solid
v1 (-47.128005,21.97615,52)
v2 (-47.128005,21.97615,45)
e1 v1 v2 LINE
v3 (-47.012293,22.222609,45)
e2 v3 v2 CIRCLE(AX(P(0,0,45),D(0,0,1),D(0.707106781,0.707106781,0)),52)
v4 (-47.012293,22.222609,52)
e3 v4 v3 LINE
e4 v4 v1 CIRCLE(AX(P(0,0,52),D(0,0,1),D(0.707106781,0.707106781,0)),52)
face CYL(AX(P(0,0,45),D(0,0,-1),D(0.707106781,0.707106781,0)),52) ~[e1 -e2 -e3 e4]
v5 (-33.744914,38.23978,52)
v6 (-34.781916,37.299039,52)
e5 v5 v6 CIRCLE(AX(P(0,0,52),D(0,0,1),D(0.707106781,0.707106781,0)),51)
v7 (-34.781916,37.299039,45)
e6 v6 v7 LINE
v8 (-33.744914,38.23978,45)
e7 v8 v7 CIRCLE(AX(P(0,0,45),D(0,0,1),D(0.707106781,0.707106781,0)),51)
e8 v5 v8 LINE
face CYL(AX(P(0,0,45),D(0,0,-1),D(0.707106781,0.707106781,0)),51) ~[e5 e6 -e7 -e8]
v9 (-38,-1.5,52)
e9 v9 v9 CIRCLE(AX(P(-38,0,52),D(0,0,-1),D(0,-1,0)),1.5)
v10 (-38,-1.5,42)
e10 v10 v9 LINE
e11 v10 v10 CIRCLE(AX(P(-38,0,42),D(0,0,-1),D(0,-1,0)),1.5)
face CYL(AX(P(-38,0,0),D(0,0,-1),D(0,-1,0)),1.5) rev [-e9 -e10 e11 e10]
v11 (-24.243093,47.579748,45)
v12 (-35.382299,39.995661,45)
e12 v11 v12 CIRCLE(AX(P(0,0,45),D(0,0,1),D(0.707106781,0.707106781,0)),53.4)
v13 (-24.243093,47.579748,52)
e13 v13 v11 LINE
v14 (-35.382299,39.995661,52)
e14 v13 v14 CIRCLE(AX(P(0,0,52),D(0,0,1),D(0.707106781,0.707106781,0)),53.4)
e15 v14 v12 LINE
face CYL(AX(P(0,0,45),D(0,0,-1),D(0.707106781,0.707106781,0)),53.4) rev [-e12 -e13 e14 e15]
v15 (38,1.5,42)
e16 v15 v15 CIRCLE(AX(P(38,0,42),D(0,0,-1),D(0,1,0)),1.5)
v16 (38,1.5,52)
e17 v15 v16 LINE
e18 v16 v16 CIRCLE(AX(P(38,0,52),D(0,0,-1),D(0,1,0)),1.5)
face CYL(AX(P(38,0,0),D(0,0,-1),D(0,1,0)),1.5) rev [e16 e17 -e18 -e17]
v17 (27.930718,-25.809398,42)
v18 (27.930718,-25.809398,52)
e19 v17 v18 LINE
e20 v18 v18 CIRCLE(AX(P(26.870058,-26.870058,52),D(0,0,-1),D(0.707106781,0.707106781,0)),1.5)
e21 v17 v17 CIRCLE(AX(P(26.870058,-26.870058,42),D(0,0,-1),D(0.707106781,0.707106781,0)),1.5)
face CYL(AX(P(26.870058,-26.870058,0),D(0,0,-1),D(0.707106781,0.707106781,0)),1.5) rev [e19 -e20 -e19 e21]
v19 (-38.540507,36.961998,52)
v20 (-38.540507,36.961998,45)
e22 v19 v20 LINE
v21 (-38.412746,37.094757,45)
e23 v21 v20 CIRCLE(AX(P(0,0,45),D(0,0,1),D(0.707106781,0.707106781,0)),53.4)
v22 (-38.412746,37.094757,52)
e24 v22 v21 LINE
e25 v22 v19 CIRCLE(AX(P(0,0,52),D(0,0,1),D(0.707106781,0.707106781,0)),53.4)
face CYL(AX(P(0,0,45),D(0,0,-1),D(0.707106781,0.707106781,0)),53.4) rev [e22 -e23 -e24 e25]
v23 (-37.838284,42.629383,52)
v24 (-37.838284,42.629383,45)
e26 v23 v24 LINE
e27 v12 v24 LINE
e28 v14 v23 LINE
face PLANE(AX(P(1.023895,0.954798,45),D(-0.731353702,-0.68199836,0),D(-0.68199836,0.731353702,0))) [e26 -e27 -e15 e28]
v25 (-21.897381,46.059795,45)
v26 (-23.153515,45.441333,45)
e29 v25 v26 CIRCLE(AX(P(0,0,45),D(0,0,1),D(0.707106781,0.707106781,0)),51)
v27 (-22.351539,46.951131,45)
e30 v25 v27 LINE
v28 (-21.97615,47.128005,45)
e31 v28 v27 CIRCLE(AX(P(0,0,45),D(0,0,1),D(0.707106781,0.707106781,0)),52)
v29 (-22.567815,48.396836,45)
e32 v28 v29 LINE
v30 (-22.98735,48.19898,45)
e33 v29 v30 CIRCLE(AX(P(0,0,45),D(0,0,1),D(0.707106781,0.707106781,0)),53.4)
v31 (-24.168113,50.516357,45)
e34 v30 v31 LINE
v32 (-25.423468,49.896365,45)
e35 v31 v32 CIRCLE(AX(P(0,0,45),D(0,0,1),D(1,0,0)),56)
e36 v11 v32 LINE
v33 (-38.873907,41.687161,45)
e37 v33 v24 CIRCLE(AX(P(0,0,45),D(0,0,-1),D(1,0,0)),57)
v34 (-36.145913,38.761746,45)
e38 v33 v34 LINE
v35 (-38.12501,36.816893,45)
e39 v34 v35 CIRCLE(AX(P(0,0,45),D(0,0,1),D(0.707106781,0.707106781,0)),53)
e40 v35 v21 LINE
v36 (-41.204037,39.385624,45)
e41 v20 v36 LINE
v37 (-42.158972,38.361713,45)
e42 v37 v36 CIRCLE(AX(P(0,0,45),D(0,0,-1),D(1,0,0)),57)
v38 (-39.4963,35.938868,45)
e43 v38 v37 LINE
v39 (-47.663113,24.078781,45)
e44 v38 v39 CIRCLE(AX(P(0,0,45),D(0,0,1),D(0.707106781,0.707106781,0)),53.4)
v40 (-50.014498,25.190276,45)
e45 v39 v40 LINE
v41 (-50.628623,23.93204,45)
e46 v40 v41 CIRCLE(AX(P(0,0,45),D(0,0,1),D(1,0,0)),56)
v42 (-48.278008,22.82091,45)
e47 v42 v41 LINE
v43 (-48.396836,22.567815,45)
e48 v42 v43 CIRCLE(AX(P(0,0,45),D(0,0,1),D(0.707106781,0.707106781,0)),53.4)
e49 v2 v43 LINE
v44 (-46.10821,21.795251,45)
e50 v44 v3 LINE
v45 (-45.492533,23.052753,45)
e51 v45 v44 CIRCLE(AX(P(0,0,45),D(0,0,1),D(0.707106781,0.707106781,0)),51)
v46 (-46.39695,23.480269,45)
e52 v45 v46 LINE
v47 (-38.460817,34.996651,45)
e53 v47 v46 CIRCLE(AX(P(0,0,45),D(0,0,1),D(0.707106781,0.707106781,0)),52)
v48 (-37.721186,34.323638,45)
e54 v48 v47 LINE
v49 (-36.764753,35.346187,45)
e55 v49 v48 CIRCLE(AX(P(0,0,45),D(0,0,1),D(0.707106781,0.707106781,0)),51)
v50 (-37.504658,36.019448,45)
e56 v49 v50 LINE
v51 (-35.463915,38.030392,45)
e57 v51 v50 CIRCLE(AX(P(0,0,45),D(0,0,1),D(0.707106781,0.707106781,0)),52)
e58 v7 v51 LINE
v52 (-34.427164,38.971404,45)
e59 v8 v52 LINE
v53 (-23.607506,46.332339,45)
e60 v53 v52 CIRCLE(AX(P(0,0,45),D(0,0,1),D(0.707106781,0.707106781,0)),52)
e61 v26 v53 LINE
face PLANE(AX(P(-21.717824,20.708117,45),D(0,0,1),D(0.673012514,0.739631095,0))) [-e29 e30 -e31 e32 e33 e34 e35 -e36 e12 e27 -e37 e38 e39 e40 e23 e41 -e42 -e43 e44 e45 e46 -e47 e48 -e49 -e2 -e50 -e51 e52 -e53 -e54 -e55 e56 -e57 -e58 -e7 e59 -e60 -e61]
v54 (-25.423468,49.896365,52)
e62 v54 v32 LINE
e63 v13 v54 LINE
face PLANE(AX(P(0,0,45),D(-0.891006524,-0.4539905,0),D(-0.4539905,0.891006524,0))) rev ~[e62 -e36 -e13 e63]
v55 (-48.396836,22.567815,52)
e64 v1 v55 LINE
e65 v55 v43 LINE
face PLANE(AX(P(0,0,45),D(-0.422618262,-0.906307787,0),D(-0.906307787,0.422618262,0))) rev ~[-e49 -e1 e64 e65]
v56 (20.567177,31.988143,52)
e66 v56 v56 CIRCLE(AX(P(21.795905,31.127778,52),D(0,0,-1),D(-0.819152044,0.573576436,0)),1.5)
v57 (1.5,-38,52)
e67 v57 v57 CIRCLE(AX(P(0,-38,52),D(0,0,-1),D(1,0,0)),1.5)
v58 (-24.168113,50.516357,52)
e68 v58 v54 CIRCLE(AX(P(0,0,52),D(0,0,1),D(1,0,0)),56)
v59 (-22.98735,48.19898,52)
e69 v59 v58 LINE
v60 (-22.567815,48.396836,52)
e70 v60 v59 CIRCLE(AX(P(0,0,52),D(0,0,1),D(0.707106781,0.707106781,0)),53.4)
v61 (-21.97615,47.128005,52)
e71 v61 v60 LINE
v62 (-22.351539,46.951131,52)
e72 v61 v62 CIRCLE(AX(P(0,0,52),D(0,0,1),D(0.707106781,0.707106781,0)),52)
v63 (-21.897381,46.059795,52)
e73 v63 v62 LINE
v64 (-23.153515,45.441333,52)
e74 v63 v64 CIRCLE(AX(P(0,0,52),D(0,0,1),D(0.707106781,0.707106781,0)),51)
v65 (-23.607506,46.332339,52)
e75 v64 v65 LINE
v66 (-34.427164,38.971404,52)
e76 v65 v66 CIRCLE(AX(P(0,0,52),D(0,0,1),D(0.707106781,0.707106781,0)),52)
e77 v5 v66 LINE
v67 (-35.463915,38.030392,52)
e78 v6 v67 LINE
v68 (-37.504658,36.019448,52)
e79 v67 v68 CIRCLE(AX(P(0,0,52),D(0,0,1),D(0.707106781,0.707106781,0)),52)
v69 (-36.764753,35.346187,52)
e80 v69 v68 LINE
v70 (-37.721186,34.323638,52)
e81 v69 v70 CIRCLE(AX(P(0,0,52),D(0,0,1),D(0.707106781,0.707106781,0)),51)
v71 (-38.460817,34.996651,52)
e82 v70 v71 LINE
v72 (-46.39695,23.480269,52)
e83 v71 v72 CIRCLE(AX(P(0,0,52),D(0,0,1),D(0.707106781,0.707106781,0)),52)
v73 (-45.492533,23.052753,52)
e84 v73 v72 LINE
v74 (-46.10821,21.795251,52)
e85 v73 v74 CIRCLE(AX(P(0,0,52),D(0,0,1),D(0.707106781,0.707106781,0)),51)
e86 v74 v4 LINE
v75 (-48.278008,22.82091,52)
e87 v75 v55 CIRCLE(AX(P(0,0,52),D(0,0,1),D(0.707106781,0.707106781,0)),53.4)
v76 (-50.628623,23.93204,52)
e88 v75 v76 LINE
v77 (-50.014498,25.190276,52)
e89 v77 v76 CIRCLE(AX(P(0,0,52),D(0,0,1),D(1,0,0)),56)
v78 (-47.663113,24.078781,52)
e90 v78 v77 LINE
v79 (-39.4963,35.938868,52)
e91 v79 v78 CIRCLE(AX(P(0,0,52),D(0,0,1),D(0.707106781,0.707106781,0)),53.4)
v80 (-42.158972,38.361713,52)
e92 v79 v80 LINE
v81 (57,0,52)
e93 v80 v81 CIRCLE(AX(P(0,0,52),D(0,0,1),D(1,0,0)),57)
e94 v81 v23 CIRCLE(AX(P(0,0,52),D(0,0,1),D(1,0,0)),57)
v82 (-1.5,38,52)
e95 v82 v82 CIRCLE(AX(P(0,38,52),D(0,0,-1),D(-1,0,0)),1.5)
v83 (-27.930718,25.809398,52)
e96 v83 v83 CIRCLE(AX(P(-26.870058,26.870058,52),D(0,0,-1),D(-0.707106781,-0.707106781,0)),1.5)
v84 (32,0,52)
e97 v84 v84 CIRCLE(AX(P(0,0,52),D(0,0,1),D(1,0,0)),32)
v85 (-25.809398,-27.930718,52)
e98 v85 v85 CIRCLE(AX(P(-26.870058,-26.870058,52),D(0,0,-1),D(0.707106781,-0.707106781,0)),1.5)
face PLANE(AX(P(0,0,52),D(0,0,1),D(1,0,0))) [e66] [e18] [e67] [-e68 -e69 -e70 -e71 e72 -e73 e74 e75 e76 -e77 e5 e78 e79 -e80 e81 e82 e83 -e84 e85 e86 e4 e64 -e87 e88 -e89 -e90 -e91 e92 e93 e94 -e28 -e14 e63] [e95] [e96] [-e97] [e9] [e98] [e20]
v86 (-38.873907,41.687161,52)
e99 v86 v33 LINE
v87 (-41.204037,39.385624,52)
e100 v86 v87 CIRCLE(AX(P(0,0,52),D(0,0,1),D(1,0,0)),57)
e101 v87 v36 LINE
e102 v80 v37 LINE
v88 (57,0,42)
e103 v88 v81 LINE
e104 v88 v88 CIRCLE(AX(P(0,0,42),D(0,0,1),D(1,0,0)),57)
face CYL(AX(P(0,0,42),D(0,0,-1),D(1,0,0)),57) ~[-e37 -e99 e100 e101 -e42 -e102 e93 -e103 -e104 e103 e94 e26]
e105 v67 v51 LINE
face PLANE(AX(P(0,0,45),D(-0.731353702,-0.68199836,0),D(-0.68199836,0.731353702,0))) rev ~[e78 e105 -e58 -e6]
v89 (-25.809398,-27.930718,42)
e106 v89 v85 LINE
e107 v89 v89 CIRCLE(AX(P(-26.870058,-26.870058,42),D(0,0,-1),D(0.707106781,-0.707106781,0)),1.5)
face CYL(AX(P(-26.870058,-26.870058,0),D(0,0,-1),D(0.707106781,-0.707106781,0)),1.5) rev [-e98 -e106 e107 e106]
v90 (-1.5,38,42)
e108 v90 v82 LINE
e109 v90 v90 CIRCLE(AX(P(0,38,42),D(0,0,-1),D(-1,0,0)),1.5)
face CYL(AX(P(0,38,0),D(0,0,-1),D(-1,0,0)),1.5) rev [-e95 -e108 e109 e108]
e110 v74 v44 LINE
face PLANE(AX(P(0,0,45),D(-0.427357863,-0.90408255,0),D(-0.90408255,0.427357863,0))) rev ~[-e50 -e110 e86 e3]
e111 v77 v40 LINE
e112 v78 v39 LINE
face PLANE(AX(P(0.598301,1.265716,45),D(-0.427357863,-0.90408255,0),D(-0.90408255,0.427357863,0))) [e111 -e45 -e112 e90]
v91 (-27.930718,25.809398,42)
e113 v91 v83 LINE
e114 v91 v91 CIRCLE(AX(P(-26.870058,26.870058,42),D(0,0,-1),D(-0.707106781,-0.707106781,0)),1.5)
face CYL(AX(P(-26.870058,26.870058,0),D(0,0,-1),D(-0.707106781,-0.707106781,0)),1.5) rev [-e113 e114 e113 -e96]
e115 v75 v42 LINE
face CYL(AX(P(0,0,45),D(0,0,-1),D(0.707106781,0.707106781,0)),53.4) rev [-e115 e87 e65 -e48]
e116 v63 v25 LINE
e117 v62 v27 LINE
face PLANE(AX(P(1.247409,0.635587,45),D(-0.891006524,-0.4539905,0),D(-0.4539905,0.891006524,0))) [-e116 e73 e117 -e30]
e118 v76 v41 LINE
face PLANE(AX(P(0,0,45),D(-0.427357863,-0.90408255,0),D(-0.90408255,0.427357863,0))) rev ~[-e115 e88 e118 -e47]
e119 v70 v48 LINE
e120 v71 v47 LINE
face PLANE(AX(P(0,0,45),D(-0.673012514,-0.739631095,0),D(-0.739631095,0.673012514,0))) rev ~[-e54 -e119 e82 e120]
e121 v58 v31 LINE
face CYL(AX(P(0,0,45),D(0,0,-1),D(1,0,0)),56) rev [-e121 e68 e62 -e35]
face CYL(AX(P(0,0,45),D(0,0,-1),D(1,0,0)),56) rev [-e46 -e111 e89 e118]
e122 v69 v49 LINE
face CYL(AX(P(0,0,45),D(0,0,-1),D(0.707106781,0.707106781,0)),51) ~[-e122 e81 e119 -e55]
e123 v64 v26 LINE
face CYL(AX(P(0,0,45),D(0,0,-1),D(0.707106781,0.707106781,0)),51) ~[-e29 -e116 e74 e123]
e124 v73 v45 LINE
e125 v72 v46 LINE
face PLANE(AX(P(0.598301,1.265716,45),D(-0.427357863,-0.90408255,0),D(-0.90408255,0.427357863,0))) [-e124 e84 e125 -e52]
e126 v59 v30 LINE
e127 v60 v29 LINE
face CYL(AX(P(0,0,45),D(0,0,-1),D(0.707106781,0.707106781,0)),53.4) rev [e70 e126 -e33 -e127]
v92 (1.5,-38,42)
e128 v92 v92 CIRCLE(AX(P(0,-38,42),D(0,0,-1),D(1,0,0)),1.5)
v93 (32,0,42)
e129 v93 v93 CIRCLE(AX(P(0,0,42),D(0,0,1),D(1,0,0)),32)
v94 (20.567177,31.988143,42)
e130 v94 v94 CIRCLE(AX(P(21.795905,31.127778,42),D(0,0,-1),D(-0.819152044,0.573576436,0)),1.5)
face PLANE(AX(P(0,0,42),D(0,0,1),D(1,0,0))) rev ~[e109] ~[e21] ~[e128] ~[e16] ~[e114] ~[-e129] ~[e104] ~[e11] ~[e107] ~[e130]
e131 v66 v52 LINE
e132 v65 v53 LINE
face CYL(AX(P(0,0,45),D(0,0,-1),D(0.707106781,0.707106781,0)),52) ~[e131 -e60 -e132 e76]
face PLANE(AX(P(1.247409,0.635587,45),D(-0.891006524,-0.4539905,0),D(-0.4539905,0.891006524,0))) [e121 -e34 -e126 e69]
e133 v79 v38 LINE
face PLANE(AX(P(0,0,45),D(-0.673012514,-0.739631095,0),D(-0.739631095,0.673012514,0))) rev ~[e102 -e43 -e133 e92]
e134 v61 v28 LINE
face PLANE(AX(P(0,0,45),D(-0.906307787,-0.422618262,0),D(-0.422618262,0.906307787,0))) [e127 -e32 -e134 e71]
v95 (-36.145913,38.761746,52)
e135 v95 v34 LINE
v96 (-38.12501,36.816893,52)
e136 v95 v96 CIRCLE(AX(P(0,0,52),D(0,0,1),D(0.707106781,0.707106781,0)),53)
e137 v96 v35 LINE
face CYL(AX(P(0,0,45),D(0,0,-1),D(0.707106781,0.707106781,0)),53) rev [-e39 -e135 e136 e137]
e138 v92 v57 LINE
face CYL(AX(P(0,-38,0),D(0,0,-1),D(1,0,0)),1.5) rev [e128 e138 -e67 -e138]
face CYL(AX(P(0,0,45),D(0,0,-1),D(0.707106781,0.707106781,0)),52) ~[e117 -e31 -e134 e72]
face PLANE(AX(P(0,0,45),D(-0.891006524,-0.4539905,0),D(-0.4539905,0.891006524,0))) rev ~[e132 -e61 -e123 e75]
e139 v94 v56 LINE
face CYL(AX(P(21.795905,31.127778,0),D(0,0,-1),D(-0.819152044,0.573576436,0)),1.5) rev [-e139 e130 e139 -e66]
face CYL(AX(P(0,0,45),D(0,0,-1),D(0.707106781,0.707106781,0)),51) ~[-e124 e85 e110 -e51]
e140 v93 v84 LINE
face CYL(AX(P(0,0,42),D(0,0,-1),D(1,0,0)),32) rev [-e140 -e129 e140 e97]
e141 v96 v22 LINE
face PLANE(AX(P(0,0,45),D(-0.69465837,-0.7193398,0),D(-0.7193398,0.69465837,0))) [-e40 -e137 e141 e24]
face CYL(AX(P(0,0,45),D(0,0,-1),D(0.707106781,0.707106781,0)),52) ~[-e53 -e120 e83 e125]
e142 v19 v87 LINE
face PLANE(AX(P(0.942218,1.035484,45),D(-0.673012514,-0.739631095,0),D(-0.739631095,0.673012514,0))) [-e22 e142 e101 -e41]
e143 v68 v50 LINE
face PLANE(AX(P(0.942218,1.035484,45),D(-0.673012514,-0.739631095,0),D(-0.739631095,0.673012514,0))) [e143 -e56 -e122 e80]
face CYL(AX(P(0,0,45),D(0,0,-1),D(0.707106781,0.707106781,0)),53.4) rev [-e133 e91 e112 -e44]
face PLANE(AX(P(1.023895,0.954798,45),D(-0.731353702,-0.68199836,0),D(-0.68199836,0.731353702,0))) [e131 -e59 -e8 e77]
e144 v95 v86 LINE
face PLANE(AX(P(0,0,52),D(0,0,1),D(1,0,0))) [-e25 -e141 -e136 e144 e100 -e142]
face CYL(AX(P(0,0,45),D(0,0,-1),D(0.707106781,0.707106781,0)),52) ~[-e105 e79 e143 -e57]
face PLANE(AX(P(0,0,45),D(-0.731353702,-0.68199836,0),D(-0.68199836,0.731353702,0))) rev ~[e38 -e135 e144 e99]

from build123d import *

# Parameters (mm, degrees)
CYLINDER2172_R               = 56
CYLINDER2172_DEPTH           = 7
CYLINDER2171_R               = 51
CYLINDER2171_DEPTH           = 7
BOX1045_W                    = 1.4
BOX1045_H                    = 60
BOX1045_DEPTH                = 7
BOX1045_PLACEMENT_ANGLE      = 19.7
BOX1044_W                    = 1.4
BOX1044_H                    = 60
BOX1044_DEPTH                = 7
BOX1044_PLACEMENT_ANGLE      = 18
CUT727_PLACEMENT_ANGLE       = 45
BOX1038_W                    = 60
BOX1038_H                    = 60
BOX1038_DEPTH                = 7
BOX1038_PLACEMENT_ANGLE      = 1
BOX1036_W                    = 60
BOX1036_H                    = 60
BOX1036_DEPTH                = 7
BOX1036_PLACEMENT_ANGLE      = 2
BOX1043_W                    = 120
BOX1043_H                    = 60
BOX1043_DEPTH                = 7
TUBE090_R                    = 54.4
TUBE090_R_2                  = 53
TUBE090_DEPTH                = 7
BOX1041_W                    = 60
BOX1041_H                    = 60
BOX1041_DEPTH                = 7
BOX1041_PLACEMENT_ANGLE      = 20
BOX1039_W                    = 60
BOX1039_H                    = 60
BOX1039_DEPTH                = 7
BOX1039_PLACEMENT_ANGLE      = 20
BOX1037_W                    = 120
BOX1037_H                    = 60
BOX1037_DEPTH                = 7
TUBE091_R                    = 53.4
TUBE091_R_2                  = 52
TUBE091_DEPTH                = 7
CUT721_PLACEMENT_ANGLE       = 45
CYLINDER2170_R               = 51
CYLINDER2170_DEPTH           = 7
BOX1042_W                    = 1.4
BOX1042_H                    = 60
BOX1042_DEPTH                = 7
BOX1042_PLACEMENT_ANGLE      = 2.7
BOX1040_W                    = 1.4
BOX1040_H                    = 60
BOX1040_DEPTH                = 7
BOX1040_PLACEMENT_ANGLE      = 2
CUT722_PLACEMENT_ANGLE       = 45
CYLINDER2129_R               = 1.5
CYLINDER2129_DEPTH           = 100
CYLINDER2130_R               = 1.5
CYLINDER2130_DEPTH           = 100
CYLINDER2130_PLACEMENT_ANGLE = 145
CYLINDER2131_R               = 1.5
CYLINDER2131_DEPTH           = 100
CYLINDER2132_R               = 1.5
CYLINDER2132_DEPTH           = 100
CYLINDER2132_PLACEMENT_ANGLE = 225
CYLINDER2133_R               = 1.5
CYLINDER2133_DEPTH           = 100
CYLINDER2134_R               = 1.5
CYLINDER2134_DEPTH           = 100
CYLINDER2134_PLACEMENT_ANGLE = 45
CYLINDER2127_R               = 1.5
CYLINDER2127_DEPTH           = 100
CYLINDER2128_R               = 1.5
CYLINDER2128_DEPTH           = 100
CYLINDER2128_PLACEMENT_ANGLE = 45
TUBE092_R                    = 57
TUBE092_R_2                  = 32
TUBE092_DEPTH                = 10


with BuildPart() as v_lec2172:
    # Cylinder2172 → Cylinder2172 (new body)
    with BuildSketch(Plane.XY.offset(45)):
        Circle(CYLINDER2172_R)
    extrude(amount=CYLINDER2172_DEPTH)


with BuildPart() as v_lec2171:
    # Cylinder2171 → Cylinder2171 (new body)
    with BuildSketch(Plane.XY.offset(-22)):
        Circle(CYLINDER2171_R)
    extrude(amount=CYLINDER2171_DEPTH)


with BuildPart() as krychle1045:
    # Box1045 → Box1045 (new body)
    with BuildSketch(Plane.XY):
        with Locations((0.7, 30)):
            Rectangle(BOX1045_W, BOX1045_H)
    extrude(amount=BOX1045_DEPTH)


with BuildPart() as krychle1045_1:
    # Box1045 placement: moved
    add(krychle1045.part.moved(Location((0, 0, -22))).rotate(Axis((0, 0, -22), (0, 0, 1)), BOX1045_PLACEMENT_ANGLE))


with BuildPart() as common:
    # Box1044 → Box1044 (new body)
    with BuildSketch(Plane.XY):
        with Locations((0.7, 30)):
            Rectangle(BOX1044_W, BOX1044_H)
    extrude(amount=BOX1044_DEPTH)


with BuildPart() as common_1:
    # Box1044 placement: moved
    add(common.part.moved(Location((0, 0, -22))).rotate(Axis((0, 0, -22), (0, 0, -1)), BOX1044_PLACEMENT_ANGLE))

    # Compound1133: union Krychle1045
    add(krychle1045_1.part)

    # Cut727: cut Válec2171
    add(v_lec2171.part, mode=Mode.SUBTRACT)


with BuildPart() as common_2:
    # Cut727 placement: moved
    add(common_1.part.moved(Location((0, 0, 67))).rotate(Axis((0, 0, 67), (0, 0, 1)), CUT727_PLACEMENT_ANGLE))

    # Common: intersect Válec2172
    add(v_lec2172.part, mode=Mode.INTERSECT)


with BuildPart() as krychle1038:
    # Box1038 → Box1038 (new body)
    with BuildSketch(Plane.XY):
        with Locations((30, 30)):
            Rectangle(BOX1038_W, BOX1038_H)
    extrude(amount=BOX1038_DEPTH)


with BuildPart() as krychle1038_1:
    # Box1038 placement: moved
    add(krychle1038.part.moved(Location((-59.990862, -1.047144, -22))).rotate(Axis((-59.990862, -1.047144, -22), (0, 0, 1)), BOX1038_PLACEMENT_ANGLE))


with BuildPart() as compound1130:
    # Box1036 → Box1036 (new body)
    with BuildSketch(Plane.XY):
        with Locations((30, 30)):
            Rectangle(BOX1036_W, BOX1036_H)
    extrude(amount=BOX1036_DEPTH)


with BuildPart() as compound1130_1:
    # Box1036 placement: moved
    add(compound1130.part.moved(Location((0, 0, -22))).rotate(Axis((0, 0, -22), (0, 0, -1)), BOX1036_PLACEMENT_ANGLE))

    # Compound1130: union Krychle1038
    add(krychle1038_1.part)


with BuildPart() as krychle1043:
    # Box1043 → Box1043 (new body)
    with BuildSketch(Plane(origin=(-60, -60, -22), x_dir=(1, 0, 0), z_dir=(0, 0, 1))):
        with Locations((60, 30)):
            Rectangle(BOX1043_W, BOX1043_H)
    extrude(amount=BOX1043_DEPTH)


with BuildPart() as cut723:
    # Tube090 → Tube090 (new body)
    with BuildSketch(Plane.XY.offset(-22)):
        Circle(TUBE090_R)
        Circle(TUBE090_R_2, mode=Mode.SUBTRACT)
    extrude(amount=TUBE090_DEPTH)

    # Cut726: cut Krychle1043
    add(krychle1043.part, mode=Mode.SUBTRACT)

    # Cut723: cut Compound1130
    add(compound1130_1.part, mode=Mode.SUBTRACT)


with BuildPart() as cut723_1:
    # Cut723 placement: moved
    add(cut723.part.moved(Location((0, 0, -7))))


with BuildPart() as krychle1041:
    # Box1041 → Box1041 (new body)
    with BuildSketch(Plane.XY):
        with Locations((30, 30)):
            Rectangle(BOX1041_W, BOX1041_H)
    extrude(amount=BOX1041_DEPTH)


with BuildPart() as krychle1041_1:
    # Box1041 placement: moved
    add(krychle1041.part.moved(Location((-56.381557, -20.521209, -22))).rotate(Axis((-56.381557, -20.521209, -22), (0, 0, 1)), BOX1041_PLACEMENT_ANGLE))


with BuildPart() as compound1129:
    # Box1039 → Box1039 (new body)
    with BuildSketch(Plane.XY):
        with Locations((30, 30)):
            Rectangle(BOX1039_W, BOX1039_H)
    extrude(amount=BOX1039_DEPTH)


with BuildPart() as compound1129_1:
    # Box1039 placement: moved
    add(compound1129.part.moved(Location((0, 0, -22))).rotate(Axis((0, 0, -22), (0, 0, -1)), BOX1039_PLACEMENT_ANGLE))

    # Compound1129: union Krychle1041
    add(krychle1041_1.part)


with BuildPart() as krychle1037:
    # Box1037 → Box1037 (new body)
    with BuildSketch(Plane(origin=(-60, -60, -22), x_dir=(1, 0, 0), z_dir=(0, 0, 1))):
        with Locations((60, 30)):
            Rectangle(BOX1037_W, BOX1037_H)
    extrude(amount=BOX1037_DEPTH)


with BuildPart() as cut721:
    # Tube091 → Tube091 (new body)
    with BuildSketch(Plane.XY.offset(-22)):
        Circle(TUBE091_R)
        Circle(TUBE091_R_2, mode=Mode.SUBTRACT)
    extrude(amount=TUBE091_DEPTH)

    # Cut718: cut Krychle1037
    add(krychle1037.part, mode=Mode.SUBTRACT)

    # Cut724: cut Compound1129
    add(compound1129_1.part, mode=Mode.SUBTRACT)


with BuildPart() as cut721_1:
    # Cut724 placement: moved
    add(cut721.part.moved(Location((0, 0, -7))))

    # Cut721: cut Cut723
    add(cut723_1.part, mode=Mode.SUBTRACT)


with BuildPart() as cut721_2:
    # Cut721 placement: moved
    add(cut721_1.part.moved(Location((0, 0, 74))).rotate(Axis((0, 0, 74), (0, 0, 1)), CUT721_PLACEMENT_ANGLE))


with BuildPart() as v_lec2170:
    # Cylinder2170 → Cylinder2170 (new body)
    with BuildSketch(Plane.XY.offset(-22)):
        Circle(CYLINDER2170_R)
    extrude(amount=CYLINDER2170_DEPTH)


with BuildPart() as krychle1042:
    # Box1042 → Box1042 (new body)
    with BuildSketch(Plane.XY):
        with Locations((0.7, 30)):
            Rectangle(BOX1042_W, BOX1042_H)
    extrude(amount=BOX1042_DEPTH)


with BuildPart() as krychle1042_1:
    # Box1042 placement: moved
    add(krychle1042.part.moved(Location((0, 0, -22))).rotate(Axis((0, 0, -22), (0, 0, 1)), BOX1042_PLACEMENT_ANGLE))


with BuildPart() as cut722:
    # Box1040 → Box1040 (new body)
    with BuildSketch(Plane.XY):
        with Locations((0.7, 30)):
            Rectangle(BOX1040_W, BOX1040_H)
    extrude(amount=BOX1040_DEPTH)


with BuildPart() as cut722_1:
    # Box1040 placement: moved
    add(cut722.part.moved(Location((0, 0, -22))).rotate(Axis((0, 0, -22), (0, 0, -1)), BOX1040_PLACEMENT_ANGLE))

    # Compound1131: union Krychle1042
    add(krychle1042_1.part)

    # Cut722: cut Válec2170
    add(v_lec2170.part, mode=Mode.SUBTRACT)


with BuildPart() as cut722_2:
    # Cut722 placement: moved
    add(cut722_1.part.moved(Location((0, 0, 67))).rotate(Axis((0, 0, 67), (0, 0, 1)), CUT722_PLACEMENT_ANGLE))


with BuildPart() as v_lec2129:
    # Cylinder2129 → Cylinder2129 (new body)
    with BuildSketch(Plane(origin=(38, 0, 0), x_dir=(0, 1, 0), z_dir=(0, 0, 1))):
        Circle(CYLINDER2129_R)
    extrude(amount=CYLINDER2129_DEPTH)


with BuildPart() as v_lec2130:
    # Cylinder2130 → Cylinder2130 (new body)
    with BuildSketch(Plane.XY):
        Circle(CYLINDER2130_R)
    extrude(amount=CYLINDER2130_DEPTH)


with BuildPart() as v_lec2130_1:
    # Cylinder2130 placement: moved
    add(v_lec2130.part.moved(Location((21.795905, 31.127778, 0))).rotate(Axis((21.795905, 31.127778, 0), (0, 0, 1)), CYLINDER2130_PLACEMENT_ANGLE))


with BuildPart() as v_lec2131:
    # Cylinder2131 → Cylinder2131 (new body)
    with BuildSketch(Plane(origin=(0, 38, 0), x_dir=(-1, 0, 0), z_dir=(0, 0, 1))):
        Circle(CYLINDER2131_R)
    extrude(amount=CYLINDER2131_DEPTH)


with BuildPart() as v_lec2132:
    # Cylinder2132 → Cylinder2132 (new body)
    with BuildSketch(Plane.XY):
        Circle(CYLINDER2132_R)
    extrude(amount=CYLINDER2132_DEPTH)


with BuildPart() as v_lec2132_1:
    # Cylinder2132 placement: moved
    add(v_lec2132.part.moved(Location((-26.870058, 26.870058, 0))).rotate(Axis((-26.870058, 26.870058, 0), (0, 0, 1)), CYLINDER2132_PLACEMENT_ANGLE))


with BuildPart() as v_lec2133:
    # Cylinder2133 → Cylinder2133 (new body)
    with BuildSketch(Plane(origin=(-38, 0, 0), x_dir=(0, -1, 0), z_dir=(0, 0, 1))):
        Circle(CYLINDER2133_R)
    extrude(amount=CYLINDER2133_DEPTH)


with BuildPart() as v_lec2134:
    # Cylinder2134 → Cylinder2134 (new body)
    with BuildSketch(Plane.XY):
        Circle(CYLINDER2134_R)
    extrude(amount=CYLINDER2134_DEPTH)


with BuildPart() as v_lec2134_1:
    # Cylinder2134 placement: moved
    add(v_lec2134.part.moved(Location((-26.870058, -26.870058, 0))).rotate(Axis((-26.870058, -26.870058, 0), (0, 0, -1)), CYLINDER2134_PLACEMENT_ANGLE))


with BuildPart() as v_lec2127:
    # Cylinder2127 → Cylinder2127 (new body)
    with BuildSketch(Plane(origin=(0, -38, 0), x_dir=(1, 0, 0), z_dir=(0, 0, 1))):
        Circle(CYLINDER2127_R)
    extrude(amount=CYLINDER2127_DEPTH)


with BuildPart() as compound1132:
    # Cylinder2128 → Cylinder2128 (new body)
    with BuildSketch(Plane.XY):
        Circle(CYLINDER2128_R)
    extrude(amount=CYLINDER2128_DEPTH)


with BuildPart() as compound1132_1:
    # Cylinder2128 placement: moved
    add(compound1132.part.moved(Location((26.870058, -26.870058, 0))).rotate(Axis((26.870058, -26.870058, 0), (0, 0, 1)), CYLINDER2128_PLACEMENT_ANGLE))

    # Compound1132: union Válec2129, Válec2130, Válec2131, Válec2132, Válec2133, Válec2134, Válec2127
    add(v_lec2129.part)
    add(v_lec2130_1.part)
    add(v_lec2131.part)
    add(v_lec2132_1.part)
    add(v_lec2133.part)
    add(v_lec2134_1.part)
    add(v_lec2127.part)


with BuildPart() as cut728:
    # Tube092 → Tube092 (new body)
    with BuildSketch(Plane.XY.offset(42)):
        Circle(TUBE092_R)
        Circle(TUBE092_R_2, mode=Mode.SUBTRACT)
    extrude(amount=TUBE092_DEPTH)

    # Cut725: cut Compound1132
    add(compound1132_1.part, mode=Mode.SUBTRACT)

    # Cut719: cut Cut722
    add(cut722_2.part, mode=Mode.SUBTRACT)

    # Cut720: cut Cut721
    add(cut721_2.part, mode=Mode.SUBTRACT)

    # Cut728: cut Common
    add(common_2.part, mode=Mode.SUBTRACT)


solid = cut728.part
